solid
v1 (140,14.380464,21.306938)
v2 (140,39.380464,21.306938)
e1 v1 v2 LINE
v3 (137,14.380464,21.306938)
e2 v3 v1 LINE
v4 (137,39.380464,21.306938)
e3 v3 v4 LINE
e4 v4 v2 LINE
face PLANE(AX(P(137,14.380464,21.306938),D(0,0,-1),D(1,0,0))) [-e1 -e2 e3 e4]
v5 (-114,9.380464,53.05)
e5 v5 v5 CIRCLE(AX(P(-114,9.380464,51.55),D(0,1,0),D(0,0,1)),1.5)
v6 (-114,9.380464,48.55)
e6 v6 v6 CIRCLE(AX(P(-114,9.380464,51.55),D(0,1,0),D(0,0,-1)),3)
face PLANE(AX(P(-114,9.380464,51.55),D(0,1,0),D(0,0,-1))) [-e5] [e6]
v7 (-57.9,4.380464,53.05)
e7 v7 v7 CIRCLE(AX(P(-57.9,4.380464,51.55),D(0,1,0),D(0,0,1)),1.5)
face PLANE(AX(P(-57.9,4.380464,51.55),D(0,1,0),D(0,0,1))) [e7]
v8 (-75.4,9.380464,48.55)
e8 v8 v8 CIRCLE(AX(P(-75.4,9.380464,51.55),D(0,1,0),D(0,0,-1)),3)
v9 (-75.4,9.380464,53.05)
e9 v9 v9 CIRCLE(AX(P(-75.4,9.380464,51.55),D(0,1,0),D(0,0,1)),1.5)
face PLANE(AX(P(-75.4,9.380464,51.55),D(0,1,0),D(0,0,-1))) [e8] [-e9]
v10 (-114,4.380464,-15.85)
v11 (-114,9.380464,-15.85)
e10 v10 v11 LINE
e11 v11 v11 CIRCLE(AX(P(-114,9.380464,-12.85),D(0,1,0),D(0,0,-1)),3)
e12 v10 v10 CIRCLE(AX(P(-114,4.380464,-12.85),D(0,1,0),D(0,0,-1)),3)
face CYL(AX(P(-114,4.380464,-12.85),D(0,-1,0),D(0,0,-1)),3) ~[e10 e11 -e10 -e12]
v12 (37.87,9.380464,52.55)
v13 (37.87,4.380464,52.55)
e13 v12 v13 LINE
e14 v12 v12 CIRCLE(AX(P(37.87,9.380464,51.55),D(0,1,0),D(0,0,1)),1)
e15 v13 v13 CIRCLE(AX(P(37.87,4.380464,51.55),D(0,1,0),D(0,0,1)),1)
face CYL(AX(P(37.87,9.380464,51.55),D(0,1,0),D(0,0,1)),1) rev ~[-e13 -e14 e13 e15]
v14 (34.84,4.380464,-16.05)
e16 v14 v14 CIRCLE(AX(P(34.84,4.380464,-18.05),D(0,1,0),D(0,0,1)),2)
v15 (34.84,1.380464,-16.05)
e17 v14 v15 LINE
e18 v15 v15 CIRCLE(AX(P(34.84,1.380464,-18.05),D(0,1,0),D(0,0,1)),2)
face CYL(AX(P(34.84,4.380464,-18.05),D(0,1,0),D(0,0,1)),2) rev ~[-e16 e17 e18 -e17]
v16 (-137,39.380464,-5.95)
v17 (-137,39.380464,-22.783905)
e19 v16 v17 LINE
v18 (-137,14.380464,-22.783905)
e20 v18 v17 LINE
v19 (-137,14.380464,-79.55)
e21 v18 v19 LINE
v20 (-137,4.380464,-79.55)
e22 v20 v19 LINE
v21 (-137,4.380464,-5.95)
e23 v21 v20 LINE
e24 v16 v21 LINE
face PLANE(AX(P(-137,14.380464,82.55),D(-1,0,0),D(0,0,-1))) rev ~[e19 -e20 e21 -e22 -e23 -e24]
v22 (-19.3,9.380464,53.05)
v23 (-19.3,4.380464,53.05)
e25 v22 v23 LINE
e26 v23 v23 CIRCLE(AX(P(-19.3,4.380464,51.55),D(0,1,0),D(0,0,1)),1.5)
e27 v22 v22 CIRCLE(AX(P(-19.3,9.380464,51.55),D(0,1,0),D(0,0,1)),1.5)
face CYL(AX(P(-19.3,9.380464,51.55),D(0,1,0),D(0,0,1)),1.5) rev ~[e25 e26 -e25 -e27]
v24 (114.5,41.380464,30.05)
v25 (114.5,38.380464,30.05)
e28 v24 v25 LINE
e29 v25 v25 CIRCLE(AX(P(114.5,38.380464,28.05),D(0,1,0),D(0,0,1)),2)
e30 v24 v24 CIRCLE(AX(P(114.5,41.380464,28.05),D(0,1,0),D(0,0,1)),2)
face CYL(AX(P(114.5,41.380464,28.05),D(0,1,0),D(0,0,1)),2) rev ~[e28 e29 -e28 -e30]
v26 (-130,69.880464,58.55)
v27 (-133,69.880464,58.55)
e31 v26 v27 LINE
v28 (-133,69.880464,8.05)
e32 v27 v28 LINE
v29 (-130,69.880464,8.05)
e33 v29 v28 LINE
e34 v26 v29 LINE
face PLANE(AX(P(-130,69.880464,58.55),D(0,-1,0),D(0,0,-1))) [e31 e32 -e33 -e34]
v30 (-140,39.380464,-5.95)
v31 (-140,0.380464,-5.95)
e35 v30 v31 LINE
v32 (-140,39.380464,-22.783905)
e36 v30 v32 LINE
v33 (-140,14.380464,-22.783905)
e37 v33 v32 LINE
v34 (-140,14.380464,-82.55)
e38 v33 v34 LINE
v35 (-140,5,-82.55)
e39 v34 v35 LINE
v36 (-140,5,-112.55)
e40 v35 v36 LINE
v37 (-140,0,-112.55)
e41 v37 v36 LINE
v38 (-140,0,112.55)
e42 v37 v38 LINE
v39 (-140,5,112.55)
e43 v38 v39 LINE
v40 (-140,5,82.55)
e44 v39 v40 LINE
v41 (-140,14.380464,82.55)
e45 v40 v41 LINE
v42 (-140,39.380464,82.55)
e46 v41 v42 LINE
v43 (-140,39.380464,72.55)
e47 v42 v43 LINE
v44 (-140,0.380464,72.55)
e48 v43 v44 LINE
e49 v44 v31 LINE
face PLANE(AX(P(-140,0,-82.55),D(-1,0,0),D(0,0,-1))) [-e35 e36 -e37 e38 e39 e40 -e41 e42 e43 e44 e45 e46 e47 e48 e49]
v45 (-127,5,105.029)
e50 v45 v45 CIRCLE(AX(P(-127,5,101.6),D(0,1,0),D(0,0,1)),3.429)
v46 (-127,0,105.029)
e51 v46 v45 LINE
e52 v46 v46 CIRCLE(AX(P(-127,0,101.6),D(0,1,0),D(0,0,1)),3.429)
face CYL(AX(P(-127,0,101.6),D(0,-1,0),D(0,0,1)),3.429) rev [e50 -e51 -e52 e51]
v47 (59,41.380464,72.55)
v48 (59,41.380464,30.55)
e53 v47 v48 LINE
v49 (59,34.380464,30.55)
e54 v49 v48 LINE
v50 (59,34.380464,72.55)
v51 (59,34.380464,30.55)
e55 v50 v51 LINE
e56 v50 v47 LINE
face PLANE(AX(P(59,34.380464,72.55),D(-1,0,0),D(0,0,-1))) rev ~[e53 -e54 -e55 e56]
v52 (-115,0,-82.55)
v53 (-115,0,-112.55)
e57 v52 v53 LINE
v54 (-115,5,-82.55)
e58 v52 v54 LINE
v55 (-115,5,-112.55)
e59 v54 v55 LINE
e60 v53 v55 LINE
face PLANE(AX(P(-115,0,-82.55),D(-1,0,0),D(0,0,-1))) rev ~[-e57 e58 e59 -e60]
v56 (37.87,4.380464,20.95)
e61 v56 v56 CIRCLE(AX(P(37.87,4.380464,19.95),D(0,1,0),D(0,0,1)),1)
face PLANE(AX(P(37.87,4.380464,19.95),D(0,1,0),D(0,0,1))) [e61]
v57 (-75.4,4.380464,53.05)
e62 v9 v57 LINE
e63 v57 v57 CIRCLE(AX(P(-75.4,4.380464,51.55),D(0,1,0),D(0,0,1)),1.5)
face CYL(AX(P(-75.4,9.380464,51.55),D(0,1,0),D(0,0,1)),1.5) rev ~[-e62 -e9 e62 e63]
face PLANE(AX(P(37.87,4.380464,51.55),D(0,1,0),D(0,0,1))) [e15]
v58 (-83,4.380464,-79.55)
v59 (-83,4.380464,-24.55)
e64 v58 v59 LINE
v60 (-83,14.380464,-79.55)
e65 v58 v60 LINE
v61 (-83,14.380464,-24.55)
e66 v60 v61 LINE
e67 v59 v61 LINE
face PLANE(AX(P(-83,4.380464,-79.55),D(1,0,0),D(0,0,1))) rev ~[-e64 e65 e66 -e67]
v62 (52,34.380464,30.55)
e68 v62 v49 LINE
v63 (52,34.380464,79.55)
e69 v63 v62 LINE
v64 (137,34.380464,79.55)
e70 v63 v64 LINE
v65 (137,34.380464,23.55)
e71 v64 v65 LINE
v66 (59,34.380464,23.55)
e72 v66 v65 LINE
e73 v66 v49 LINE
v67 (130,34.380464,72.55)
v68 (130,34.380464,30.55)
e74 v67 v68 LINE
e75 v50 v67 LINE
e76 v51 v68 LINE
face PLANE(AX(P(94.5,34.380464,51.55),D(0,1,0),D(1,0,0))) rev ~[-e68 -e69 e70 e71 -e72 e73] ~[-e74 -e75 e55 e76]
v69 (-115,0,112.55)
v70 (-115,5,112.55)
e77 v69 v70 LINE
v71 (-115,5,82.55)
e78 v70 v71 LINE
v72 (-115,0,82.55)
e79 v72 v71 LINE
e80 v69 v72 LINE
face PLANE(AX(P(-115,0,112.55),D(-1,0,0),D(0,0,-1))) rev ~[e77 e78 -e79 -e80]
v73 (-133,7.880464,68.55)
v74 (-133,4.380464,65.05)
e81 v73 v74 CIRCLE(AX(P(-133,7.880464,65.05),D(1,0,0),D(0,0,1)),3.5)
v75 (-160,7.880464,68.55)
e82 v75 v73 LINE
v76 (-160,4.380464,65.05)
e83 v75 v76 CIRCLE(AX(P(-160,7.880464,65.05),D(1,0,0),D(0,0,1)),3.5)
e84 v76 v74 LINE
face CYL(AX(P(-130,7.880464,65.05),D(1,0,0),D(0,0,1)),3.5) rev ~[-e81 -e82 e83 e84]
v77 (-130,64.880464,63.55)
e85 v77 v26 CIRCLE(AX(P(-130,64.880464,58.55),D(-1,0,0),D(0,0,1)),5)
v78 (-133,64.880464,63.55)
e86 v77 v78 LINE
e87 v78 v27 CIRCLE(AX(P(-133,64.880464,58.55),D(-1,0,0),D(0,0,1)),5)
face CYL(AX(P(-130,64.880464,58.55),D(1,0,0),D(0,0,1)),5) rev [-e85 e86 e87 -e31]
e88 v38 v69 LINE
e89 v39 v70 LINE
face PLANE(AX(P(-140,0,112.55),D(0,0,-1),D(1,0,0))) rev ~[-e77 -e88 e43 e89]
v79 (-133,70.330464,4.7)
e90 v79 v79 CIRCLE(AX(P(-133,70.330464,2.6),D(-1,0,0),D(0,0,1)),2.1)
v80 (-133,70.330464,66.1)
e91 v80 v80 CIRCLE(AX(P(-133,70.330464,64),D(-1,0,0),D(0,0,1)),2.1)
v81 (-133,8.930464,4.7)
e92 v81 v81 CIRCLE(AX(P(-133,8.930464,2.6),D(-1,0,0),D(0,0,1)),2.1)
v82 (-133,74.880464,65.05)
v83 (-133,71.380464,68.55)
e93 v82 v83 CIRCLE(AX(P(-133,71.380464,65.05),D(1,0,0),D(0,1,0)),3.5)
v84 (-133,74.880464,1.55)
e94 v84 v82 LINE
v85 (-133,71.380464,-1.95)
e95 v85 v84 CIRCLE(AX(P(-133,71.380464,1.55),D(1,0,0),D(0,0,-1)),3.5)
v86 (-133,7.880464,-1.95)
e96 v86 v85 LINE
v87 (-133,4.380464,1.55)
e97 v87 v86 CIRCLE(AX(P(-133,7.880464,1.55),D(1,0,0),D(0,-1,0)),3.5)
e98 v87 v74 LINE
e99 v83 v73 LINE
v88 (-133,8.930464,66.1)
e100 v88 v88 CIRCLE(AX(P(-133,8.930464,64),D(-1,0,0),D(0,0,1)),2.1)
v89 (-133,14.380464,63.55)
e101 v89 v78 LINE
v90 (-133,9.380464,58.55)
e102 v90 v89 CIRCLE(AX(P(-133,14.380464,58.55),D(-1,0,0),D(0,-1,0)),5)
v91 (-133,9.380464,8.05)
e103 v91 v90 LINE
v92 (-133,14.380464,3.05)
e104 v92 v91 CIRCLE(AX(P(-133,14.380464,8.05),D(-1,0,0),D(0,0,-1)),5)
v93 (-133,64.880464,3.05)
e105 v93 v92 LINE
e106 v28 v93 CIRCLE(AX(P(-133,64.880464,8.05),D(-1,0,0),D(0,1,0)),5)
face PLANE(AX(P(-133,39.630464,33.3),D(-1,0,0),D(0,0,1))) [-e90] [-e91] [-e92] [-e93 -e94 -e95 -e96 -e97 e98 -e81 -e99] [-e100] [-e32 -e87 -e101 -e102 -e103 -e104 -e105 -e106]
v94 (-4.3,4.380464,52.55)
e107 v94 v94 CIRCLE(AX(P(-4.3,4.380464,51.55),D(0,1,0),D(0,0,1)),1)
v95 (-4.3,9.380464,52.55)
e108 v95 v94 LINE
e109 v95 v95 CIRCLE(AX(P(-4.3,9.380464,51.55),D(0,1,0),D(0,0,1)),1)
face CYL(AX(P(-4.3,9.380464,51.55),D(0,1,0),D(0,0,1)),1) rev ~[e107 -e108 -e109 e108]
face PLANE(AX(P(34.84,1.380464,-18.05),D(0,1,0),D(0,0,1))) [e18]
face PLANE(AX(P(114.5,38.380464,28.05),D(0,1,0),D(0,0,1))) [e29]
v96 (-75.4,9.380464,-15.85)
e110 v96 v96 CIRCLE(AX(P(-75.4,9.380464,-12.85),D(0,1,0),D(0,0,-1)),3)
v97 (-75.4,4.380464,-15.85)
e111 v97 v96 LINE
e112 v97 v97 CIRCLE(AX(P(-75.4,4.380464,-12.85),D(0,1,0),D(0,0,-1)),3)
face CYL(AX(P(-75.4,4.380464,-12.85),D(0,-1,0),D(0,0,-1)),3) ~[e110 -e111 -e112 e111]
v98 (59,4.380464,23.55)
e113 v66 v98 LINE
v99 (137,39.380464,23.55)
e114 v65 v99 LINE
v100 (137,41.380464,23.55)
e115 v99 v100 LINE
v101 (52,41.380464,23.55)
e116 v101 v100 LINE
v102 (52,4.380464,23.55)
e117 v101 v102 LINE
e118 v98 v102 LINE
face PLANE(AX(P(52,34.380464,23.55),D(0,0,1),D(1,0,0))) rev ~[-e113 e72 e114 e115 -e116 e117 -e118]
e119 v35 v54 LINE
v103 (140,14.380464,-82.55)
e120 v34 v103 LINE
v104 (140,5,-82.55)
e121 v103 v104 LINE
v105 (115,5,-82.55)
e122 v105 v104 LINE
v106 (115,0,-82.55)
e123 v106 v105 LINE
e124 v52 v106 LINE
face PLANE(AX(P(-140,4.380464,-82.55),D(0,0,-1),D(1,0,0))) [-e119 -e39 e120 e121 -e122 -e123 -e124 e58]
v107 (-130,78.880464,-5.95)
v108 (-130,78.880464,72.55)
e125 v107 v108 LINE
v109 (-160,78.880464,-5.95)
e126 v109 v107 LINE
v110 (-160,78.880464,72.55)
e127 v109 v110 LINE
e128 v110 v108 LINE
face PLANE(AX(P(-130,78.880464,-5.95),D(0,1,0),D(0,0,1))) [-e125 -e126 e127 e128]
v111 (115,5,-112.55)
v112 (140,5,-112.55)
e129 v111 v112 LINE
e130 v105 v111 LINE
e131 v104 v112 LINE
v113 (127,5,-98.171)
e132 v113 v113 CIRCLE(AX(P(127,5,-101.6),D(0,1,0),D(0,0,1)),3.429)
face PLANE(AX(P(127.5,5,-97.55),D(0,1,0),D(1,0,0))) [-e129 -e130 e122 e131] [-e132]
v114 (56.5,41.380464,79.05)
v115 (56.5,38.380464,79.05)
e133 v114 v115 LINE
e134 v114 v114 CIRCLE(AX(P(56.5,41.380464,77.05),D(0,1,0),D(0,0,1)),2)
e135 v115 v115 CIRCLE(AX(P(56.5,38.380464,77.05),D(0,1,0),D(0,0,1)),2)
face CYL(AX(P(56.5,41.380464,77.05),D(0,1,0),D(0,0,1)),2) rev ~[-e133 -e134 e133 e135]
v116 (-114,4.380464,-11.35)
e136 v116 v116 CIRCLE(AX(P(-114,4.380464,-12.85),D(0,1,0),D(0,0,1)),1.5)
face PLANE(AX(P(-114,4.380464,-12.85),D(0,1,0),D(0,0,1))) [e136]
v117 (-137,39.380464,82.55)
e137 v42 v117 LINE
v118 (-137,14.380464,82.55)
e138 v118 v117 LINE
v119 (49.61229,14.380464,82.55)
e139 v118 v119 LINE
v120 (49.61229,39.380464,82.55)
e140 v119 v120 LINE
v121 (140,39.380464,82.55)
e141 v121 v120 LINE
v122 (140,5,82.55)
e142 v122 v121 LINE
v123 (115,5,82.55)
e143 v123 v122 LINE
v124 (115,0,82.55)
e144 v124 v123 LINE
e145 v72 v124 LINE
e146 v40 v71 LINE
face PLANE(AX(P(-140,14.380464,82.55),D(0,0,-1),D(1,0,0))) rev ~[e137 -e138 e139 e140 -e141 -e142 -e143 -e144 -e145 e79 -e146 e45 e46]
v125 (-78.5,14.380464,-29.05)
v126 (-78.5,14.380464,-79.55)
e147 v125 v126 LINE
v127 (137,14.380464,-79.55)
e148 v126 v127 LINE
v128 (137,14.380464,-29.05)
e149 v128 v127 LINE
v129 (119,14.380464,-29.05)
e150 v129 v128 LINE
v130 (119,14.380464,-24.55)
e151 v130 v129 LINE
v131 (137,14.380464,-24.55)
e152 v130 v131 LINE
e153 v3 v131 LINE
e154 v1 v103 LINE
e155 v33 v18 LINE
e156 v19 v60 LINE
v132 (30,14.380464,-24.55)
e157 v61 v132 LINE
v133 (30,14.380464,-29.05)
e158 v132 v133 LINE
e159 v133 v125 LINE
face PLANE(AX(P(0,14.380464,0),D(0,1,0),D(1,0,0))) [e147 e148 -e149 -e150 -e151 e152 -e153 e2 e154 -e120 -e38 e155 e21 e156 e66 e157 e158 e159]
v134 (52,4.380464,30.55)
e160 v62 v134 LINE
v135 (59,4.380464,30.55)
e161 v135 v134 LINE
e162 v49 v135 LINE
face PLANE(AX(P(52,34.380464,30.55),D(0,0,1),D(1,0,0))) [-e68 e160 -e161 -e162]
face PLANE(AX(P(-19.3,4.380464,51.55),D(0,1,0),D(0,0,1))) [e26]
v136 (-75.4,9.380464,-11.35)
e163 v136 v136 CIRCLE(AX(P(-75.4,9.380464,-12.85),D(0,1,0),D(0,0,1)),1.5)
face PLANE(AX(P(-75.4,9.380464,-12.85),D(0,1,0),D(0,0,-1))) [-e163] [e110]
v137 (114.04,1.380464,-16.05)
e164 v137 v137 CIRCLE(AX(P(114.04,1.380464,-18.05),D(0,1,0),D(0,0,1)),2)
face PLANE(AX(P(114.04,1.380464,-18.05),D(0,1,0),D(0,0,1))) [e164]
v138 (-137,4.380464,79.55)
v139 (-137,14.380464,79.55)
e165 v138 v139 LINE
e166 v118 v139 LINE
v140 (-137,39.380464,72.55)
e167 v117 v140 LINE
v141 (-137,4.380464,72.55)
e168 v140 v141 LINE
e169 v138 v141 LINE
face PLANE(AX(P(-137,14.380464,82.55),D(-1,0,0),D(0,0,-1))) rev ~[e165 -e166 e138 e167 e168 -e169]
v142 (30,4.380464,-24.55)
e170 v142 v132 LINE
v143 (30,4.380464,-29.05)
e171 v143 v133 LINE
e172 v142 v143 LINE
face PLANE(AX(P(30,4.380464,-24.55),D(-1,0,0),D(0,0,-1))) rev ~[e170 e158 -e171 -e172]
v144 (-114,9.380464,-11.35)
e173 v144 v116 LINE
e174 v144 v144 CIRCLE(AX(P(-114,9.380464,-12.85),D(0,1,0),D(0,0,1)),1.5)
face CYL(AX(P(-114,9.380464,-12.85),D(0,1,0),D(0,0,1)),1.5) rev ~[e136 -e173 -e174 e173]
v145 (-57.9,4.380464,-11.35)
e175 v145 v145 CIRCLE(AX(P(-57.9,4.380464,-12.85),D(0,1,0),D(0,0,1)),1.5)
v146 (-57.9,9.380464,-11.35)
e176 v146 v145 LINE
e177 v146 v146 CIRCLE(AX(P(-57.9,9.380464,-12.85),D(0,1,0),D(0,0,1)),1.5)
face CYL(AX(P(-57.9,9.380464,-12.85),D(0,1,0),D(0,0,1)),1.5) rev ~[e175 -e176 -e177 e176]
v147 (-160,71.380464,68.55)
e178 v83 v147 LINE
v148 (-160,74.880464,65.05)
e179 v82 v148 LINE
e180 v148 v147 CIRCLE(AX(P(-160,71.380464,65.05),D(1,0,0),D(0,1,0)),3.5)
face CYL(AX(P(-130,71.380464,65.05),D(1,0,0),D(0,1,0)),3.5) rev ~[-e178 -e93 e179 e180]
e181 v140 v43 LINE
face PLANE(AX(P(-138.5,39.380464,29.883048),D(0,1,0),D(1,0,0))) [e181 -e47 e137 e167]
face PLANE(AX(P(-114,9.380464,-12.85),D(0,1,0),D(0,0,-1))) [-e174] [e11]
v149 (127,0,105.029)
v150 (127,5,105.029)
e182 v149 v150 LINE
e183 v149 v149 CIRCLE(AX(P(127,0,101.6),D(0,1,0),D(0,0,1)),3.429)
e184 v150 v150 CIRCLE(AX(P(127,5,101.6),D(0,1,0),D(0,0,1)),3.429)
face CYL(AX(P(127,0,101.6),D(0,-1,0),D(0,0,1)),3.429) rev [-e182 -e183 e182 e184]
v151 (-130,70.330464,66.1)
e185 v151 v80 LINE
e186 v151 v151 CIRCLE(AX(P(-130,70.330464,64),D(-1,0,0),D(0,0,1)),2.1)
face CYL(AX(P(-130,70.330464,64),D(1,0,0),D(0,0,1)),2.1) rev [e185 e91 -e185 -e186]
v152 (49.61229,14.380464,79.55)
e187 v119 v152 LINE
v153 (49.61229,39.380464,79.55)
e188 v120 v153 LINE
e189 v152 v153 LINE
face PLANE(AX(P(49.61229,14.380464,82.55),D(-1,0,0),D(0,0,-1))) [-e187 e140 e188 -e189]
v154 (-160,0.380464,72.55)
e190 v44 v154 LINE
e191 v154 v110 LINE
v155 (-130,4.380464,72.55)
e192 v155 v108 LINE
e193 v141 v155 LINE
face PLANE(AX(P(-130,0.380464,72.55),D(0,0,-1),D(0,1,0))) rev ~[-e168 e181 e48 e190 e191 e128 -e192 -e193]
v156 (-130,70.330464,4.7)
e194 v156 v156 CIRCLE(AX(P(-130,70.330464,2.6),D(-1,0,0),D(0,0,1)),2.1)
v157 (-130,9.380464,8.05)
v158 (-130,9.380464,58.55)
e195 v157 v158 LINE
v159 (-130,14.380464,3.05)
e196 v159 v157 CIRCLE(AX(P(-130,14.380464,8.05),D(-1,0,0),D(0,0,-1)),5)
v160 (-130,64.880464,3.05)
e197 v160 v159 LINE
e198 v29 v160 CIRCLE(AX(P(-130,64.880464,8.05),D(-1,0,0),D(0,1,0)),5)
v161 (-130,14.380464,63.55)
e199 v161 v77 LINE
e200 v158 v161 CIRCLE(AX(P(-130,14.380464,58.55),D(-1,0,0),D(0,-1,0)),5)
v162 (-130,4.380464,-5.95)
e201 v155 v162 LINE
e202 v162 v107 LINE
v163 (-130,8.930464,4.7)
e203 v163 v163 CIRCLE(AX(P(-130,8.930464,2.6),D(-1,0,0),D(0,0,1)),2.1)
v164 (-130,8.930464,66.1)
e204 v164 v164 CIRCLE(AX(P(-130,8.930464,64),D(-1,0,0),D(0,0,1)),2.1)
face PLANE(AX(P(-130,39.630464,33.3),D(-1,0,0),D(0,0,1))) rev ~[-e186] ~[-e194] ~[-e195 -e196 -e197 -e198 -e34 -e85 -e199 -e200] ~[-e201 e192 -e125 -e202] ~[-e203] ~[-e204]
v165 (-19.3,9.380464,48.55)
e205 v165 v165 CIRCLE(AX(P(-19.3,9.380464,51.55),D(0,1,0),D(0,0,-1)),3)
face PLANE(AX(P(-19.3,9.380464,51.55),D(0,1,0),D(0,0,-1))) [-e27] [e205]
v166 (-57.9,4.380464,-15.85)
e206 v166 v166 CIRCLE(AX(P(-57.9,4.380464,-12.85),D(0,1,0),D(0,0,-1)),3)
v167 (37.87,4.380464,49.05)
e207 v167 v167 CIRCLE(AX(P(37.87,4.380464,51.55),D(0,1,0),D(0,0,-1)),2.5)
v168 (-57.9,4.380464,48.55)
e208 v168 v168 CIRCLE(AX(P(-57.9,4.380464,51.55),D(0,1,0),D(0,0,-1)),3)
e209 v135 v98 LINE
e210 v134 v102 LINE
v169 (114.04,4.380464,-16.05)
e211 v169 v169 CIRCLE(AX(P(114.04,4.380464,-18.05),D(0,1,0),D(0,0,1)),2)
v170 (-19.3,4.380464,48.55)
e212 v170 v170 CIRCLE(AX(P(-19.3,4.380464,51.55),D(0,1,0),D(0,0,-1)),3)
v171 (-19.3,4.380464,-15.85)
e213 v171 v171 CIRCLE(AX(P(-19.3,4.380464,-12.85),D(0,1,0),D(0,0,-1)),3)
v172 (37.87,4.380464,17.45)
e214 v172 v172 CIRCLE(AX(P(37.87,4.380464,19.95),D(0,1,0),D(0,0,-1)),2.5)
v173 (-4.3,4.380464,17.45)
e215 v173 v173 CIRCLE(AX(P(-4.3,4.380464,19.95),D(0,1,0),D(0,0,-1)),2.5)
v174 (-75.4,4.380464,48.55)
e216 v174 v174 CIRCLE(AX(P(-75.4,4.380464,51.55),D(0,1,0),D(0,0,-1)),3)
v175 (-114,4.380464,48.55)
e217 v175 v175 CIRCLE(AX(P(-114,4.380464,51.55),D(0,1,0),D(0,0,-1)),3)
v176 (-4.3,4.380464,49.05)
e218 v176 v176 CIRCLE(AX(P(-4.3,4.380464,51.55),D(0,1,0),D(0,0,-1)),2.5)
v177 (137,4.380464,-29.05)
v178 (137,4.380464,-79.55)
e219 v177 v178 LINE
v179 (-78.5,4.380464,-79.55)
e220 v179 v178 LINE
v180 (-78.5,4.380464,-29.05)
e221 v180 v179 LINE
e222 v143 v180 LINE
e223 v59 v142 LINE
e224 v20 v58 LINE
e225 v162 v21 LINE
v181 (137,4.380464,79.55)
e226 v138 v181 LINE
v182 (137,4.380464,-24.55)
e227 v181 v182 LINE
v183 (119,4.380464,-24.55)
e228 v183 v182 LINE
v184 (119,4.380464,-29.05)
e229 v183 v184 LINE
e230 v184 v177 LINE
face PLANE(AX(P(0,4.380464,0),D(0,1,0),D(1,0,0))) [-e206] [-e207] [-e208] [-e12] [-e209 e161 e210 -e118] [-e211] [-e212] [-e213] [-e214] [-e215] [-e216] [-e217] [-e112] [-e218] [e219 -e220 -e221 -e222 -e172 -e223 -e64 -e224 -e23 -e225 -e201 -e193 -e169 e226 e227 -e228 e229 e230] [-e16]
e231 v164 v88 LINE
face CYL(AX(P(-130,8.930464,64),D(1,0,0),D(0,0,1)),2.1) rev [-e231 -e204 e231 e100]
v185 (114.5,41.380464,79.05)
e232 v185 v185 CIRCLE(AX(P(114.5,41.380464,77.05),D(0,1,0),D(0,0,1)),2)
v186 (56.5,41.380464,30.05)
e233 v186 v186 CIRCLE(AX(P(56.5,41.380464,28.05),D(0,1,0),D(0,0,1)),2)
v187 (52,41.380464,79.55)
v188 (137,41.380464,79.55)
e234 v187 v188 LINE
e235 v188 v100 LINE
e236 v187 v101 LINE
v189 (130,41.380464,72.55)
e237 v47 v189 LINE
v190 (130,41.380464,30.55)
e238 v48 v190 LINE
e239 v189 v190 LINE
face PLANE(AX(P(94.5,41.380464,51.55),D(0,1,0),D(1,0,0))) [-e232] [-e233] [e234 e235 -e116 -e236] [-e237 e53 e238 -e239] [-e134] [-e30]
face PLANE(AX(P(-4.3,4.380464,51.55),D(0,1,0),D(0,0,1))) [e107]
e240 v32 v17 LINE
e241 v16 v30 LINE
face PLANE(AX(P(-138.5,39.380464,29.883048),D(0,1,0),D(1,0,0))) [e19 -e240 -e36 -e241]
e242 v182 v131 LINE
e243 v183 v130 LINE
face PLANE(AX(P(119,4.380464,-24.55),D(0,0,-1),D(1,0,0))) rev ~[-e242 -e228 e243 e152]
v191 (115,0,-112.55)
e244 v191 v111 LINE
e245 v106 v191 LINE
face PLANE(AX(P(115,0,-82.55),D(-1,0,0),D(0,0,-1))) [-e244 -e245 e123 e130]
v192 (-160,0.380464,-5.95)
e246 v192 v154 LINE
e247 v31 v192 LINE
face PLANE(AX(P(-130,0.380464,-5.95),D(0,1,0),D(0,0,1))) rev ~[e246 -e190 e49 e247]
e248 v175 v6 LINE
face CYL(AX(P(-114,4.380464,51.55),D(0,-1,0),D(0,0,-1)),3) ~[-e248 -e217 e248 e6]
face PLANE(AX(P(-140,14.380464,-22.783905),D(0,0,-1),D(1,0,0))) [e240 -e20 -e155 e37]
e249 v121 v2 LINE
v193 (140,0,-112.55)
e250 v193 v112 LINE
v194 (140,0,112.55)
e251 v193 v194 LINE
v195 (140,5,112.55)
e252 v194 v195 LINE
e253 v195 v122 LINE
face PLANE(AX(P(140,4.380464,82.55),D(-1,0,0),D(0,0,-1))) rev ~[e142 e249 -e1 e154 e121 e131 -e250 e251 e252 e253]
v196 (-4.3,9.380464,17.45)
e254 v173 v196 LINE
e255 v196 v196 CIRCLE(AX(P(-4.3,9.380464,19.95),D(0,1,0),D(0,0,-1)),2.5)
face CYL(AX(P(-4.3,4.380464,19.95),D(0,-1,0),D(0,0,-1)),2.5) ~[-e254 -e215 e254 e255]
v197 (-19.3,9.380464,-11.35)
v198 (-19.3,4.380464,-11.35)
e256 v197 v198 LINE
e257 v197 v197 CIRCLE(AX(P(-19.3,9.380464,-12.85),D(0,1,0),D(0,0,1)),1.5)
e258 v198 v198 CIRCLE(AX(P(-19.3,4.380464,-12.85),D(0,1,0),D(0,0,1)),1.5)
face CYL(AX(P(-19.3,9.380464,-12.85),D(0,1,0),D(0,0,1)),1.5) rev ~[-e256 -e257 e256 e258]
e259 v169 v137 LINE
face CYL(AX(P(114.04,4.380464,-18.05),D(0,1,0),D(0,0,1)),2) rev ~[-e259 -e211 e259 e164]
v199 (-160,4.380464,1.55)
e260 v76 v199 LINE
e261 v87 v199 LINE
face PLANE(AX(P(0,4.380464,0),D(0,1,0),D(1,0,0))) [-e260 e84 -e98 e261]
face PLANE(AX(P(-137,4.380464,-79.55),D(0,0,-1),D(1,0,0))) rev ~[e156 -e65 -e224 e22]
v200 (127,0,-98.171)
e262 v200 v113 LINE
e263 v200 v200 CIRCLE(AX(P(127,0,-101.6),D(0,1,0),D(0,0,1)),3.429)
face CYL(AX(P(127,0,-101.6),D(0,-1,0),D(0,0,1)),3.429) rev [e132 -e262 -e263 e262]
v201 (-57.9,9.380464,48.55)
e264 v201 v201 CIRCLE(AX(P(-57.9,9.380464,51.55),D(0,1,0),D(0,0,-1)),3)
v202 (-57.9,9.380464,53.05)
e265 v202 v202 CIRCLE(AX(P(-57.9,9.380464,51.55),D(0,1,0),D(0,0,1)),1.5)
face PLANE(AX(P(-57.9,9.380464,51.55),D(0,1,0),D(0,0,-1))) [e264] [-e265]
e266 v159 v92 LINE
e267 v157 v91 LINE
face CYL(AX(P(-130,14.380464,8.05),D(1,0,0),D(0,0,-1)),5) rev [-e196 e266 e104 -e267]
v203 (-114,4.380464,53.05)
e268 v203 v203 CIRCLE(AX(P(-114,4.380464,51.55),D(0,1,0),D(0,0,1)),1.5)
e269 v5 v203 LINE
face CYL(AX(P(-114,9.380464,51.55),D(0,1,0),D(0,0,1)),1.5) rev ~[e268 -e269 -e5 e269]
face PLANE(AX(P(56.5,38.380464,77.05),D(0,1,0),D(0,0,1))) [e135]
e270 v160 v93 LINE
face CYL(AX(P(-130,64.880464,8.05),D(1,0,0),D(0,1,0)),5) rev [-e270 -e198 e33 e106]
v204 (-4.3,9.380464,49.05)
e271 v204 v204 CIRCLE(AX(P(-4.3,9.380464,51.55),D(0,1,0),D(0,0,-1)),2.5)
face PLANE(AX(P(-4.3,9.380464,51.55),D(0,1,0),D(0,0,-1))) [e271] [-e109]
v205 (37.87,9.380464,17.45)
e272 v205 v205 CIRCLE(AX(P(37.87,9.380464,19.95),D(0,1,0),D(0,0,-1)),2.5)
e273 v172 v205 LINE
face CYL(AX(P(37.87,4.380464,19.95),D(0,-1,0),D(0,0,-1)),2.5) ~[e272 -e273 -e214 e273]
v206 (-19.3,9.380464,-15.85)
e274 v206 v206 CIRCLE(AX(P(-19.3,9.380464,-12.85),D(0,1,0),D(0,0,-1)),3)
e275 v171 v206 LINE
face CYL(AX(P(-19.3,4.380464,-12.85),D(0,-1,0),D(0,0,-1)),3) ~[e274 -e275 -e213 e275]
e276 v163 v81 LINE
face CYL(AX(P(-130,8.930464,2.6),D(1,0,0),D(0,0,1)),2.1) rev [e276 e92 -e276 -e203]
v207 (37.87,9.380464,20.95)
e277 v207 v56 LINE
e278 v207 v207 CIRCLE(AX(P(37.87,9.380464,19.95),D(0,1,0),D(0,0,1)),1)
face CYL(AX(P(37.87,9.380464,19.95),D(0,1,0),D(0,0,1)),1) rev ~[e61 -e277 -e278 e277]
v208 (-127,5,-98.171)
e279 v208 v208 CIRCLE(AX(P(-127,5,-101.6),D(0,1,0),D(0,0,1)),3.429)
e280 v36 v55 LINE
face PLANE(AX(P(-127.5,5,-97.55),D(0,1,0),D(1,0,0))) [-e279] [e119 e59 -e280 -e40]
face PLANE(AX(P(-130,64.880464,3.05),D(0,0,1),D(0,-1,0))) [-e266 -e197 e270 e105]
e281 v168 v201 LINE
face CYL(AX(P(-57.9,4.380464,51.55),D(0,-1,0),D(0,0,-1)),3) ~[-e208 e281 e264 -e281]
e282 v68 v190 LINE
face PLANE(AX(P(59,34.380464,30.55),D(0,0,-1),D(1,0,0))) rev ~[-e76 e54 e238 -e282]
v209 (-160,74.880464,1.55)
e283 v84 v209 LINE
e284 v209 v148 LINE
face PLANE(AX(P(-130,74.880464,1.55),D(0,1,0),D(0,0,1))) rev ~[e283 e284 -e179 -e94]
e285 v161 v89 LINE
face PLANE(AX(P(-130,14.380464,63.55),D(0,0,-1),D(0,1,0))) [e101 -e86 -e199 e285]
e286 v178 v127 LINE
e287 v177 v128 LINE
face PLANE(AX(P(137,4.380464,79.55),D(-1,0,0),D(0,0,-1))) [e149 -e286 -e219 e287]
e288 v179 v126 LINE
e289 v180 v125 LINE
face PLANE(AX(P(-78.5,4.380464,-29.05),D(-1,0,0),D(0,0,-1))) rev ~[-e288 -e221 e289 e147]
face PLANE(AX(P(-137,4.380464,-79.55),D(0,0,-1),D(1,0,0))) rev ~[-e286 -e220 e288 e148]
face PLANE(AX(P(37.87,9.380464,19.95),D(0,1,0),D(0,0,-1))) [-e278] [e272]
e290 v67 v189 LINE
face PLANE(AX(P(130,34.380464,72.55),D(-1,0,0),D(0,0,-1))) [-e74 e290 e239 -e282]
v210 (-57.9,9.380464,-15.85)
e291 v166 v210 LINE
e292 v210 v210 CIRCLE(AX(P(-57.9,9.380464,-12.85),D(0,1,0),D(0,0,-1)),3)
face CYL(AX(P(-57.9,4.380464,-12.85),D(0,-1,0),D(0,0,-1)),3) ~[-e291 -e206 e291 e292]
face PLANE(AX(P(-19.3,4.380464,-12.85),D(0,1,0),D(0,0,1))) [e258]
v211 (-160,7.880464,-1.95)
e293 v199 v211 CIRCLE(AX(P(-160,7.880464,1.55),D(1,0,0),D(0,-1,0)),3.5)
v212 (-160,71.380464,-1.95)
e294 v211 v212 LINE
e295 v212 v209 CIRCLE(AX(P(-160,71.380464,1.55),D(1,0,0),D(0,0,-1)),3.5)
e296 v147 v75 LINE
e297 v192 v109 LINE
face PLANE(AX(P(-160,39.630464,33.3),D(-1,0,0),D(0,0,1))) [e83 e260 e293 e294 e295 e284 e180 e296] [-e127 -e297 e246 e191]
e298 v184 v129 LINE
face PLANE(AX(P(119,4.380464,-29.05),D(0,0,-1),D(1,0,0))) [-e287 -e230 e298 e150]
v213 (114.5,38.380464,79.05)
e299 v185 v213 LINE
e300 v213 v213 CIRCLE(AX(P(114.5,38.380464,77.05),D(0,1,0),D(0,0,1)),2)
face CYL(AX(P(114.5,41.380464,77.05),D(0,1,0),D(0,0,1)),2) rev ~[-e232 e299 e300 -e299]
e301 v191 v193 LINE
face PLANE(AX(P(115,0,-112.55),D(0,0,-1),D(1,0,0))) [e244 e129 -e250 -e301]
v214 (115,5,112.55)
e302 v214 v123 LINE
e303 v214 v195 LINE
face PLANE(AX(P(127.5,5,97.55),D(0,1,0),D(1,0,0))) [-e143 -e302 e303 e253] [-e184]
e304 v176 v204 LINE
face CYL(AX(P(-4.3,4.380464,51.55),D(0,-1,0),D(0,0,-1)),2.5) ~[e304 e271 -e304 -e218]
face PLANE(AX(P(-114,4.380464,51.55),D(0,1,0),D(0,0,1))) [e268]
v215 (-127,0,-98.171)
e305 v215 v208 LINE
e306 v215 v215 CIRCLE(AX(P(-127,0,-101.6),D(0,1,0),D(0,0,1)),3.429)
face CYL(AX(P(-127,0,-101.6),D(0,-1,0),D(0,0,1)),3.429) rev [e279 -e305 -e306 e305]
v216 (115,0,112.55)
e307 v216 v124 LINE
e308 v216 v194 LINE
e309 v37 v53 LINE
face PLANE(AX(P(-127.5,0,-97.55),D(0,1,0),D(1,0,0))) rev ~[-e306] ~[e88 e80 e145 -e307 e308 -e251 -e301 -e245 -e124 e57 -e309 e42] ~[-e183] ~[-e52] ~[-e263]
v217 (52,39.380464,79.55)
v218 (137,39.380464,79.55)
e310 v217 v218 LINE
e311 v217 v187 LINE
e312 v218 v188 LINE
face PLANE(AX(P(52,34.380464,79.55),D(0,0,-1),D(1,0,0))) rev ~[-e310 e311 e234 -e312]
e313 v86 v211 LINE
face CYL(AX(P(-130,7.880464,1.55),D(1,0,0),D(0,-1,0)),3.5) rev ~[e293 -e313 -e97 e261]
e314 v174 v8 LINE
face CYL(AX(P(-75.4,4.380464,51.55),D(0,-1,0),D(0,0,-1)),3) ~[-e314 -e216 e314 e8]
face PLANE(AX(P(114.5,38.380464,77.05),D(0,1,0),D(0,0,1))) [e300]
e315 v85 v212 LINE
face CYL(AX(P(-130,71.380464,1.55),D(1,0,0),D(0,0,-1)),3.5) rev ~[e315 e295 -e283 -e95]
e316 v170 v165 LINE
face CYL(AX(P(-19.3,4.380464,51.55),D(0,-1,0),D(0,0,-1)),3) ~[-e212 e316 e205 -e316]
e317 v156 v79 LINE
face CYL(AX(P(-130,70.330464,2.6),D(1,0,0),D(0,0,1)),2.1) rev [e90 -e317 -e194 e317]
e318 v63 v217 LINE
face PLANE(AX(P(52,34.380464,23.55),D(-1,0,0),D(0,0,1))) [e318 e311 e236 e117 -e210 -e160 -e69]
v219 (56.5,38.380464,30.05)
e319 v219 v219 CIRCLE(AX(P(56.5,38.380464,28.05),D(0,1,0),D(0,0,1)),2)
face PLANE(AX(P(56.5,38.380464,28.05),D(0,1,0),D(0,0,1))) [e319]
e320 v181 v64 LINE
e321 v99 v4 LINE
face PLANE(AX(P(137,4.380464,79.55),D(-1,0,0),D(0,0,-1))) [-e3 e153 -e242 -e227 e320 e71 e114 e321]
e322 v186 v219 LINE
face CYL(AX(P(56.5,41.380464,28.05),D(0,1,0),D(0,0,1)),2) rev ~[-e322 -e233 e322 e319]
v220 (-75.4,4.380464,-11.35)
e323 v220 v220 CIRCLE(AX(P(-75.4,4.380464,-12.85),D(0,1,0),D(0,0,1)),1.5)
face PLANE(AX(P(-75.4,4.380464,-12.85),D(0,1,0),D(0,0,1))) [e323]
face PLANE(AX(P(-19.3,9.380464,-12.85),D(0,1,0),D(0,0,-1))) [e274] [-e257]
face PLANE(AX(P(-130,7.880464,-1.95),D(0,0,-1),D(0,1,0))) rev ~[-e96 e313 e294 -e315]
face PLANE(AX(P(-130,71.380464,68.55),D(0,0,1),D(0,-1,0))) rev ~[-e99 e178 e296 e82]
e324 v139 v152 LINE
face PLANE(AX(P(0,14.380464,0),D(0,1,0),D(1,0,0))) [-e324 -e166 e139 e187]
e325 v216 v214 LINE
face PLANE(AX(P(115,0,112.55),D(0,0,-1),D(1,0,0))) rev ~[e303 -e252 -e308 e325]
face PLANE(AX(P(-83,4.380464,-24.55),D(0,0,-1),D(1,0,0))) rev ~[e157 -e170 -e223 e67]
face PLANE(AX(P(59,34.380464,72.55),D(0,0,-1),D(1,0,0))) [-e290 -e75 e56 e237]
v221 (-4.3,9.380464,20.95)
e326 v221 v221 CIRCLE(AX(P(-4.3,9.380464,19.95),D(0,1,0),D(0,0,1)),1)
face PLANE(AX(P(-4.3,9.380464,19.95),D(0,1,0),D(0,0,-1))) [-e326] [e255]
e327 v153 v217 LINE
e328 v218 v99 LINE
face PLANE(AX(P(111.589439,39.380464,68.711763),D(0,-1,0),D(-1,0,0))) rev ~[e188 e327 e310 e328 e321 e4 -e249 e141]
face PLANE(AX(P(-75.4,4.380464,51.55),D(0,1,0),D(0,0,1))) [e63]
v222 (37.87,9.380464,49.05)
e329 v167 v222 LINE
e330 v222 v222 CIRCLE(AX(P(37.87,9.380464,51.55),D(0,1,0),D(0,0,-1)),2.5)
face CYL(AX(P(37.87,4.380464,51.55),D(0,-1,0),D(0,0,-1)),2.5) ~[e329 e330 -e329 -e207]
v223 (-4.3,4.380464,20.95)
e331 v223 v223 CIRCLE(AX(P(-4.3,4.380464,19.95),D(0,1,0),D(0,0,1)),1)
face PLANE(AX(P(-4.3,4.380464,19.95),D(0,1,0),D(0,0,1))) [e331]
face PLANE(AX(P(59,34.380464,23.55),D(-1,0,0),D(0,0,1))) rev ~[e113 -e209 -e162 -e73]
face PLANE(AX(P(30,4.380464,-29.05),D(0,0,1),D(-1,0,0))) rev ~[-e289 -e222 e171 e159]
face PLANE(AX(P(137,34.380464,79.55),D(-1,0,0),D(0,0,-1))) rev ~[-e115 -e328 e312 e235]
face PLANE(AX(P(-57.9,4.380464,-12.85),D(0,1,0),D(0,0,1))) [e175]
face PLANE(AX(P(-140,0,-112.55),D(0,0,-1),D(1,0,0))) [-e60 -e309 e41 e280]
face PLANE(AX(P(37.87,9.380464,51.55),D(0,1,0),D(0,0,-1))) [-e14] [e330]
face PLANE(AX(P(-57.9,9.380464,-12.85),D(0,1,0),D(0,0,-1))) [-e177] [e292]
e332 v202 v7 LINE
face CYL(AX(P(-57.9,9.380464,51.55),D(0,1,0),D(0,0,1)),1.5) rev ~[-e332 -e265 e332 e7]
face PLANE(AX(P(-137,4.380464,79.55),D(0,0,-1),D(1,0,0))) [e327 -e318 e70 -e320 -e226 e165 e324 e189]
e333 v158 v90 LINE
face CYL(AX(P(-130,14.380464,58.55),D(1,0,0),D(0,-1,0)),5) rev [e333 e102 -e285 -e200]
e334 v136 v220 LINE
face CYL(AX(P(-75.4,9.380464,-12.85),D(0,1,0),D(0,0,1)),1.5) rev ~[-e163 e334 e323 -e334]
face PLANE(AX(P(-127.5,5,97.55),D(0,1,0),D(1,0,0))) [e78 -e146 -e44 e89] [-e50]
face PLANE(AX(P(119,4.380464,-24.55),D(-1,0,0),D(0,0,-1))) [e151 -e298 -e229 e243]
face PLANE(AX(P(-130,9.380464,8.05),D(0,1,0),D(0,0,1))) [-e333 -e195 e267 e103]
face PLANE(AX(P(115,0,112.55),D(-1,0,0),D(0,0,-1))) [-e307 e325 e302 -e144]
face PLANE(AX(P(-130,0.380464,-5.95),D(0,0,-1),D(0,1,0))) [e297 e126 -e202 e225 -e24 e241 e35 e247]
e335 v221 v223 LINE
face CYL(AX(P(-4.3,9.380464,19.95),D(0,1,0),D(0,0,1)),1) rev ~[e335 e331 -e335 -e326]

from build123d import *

# Parameters (mm, degrees)
SKETCH1_W             = 280
SKETCH1_H             = 165.1
FLOOR_2_DEPTH         = 4.38046443
SKETCH2_W             = 280
SKETCH2_H             = 165.1
SKETCH2_W_2           = 274
SKETCH2_H_2           = 159.1
WALL_DEPTH            = 10
RPI_START             = 30
SKETCH4_W             = 85
SKETCH4_H             = 56
SKETCH4_W_2           = 71
SKETCH4_H_2           = 42
RPI_STAND_DEPTH       = 7
SKETCH7_W             = 3
SKETCH7_H             = 105.333904831
TEMP_SUPPORT_DEPTH    = 25
SKETCH3_W             = 25
SKETCH3_H             = 30
SKETCH3_R             = 3.429
BRACKETS_DEPTH        = 5
FAN_HOLDER_DEPTH      = 20
FAN_HOLDER_DEPTH_BACK = 10
SKETCH5_W             = 78.5
SKETCH5_H             = 78.5
FAN_START             = -3
FAN_HOLE_DEPTH        = 3
SKETCH11_W            = 78.5
SKETCH11_H            = 78.5
SKETCH11_R            = 2.1
BOSS_EXTRUDE9_DEPTH   = 3
BOSS_EXTRUDE10_REACH  = 202.618
SKETCH12_W            = 7
SKETCH12_H            = 7
SKETCH13_R            = 3
SKETCH13_R_2          = 1.5
SKETCH13_R_3          = 2.5
SKETCH13_R_4          = 1
BOSS_EXTRUDE12_DEPTH  = 5
CUT_EXTRUDE1_START    = 5
SKETCH13_4_R          = 1.5
SKETCH13_4_R_2        = 1
CUT_EXTRUDE1_DEPTH    = 5
SKETCH13_5_R          = 2
CUT_EXTRUDE2_DEPTH    = 3
SKETCH16_W            = 18
SKETCH16_H            = 4.5
BOSS_EXTRUDE11_DEPTH  = 10
SKETCH17_R            = 2
CUT_EXTRUDE3_DEPTH    = 3


with BuildPart() as part:
    # Sketch1 → Floor 2 (new body)
    with BuildSketch(Plane(origin=(0, 0, 0), x_dir=(1, 0, 0), z_dir=(0, 1, 0))):
        Rectangle(SKETCH1_W, SKETCH1_H)
    extrude(amount=FLOOR_2_DEPTH)

    # Sketch2 → Wall (add)
    with BuildSketch(Plane(origin=(0, 4.38046443, 0), x_dir=(1, 0, 0), z_dir=(0, 1, 0))):
        Rectangle(SKETCH2_W, SKETCH2_H)
        Rectangle(SKETCH2_W_2, SKETCH2_H_2, mode=Mode.SUBTRACT)
    extrude(amount=WALL_DEPTH)

    # Sketch7 → Temp support (add)
    with BuildSketch(Plane(origin=(0, 14.38046443, 0), x_dir=(1, 0, 0), z_dir=(0, 1, 0))):
        with Locations((-138.5, -29.883047585)):
            Rectangle(SKETCH7_W, SKETCH7_H)
        Polygon((140, -82.55), (49.61228981, -82.55), (49.61228981, -79.55), (137, -79.55), (137, -21.306937857), (140, -21.306937857), (140, -79.55), align=None)
    extrude(amount=TEMP_SUPPORT_DEPTH)

    # Sketch3 → Brackets (add)
    # profile 1 of 4: a face of its own
    with BuildSketch(Plane(origin=(0, 0, 0), x_dir=(1, 0, 0), z_dir=(0, 1, 0))):
        with Locations((-127.5, 97.55)):
            Rectangle(SKETCH3_W, SKETCH3_H)
        with Locations(Location((-127, 101.6, 0), (0, 0, 270))):
            Circle(SKETCH3_R, mode=Mode.SUBTRACT)
    # profile 2 of 4: a face of its own
    with BuildSketch(Plane(origin=(0, 0, 0), x_dir=(1, 0, 0), z_dir=(0, 1, 0))):
        with Locations((127.5, 97.55)):
            Rectangle(SKETCH3_W, SKETCH3_H)
        with Locations(Location((127, 101.6, 0), (0, 0, 270))):
            Circle(SKETCH3_R, mode=Mode.SUBTRACT)
    # profile 3 of 4: a face of its own
    with BuildSketch(Plane(origin=(0, 0, 0), x_dir=(1, 0, 0), z_dir=(0, 1, 0))):
        with Locations((-127.5, -97.55)):
            Rectangle(SKETCH3_W, SKETCH3_H)
        with Locations(Location((-127, -101.6, 0), (0, 0, 270))):
            Circle(SKETCH3_R, mode=Mode.SUBTRACT)
    # profile 4 of 4: a face of its own
    with BuildSketch(Plane(origin=(0, 0, 0), x_dir=(1, 0, 0), z_dir=(0, 1, 0))):
        with Locations((127.5, -97.55)):
            Rectangle(SKETCH3_W, SKETCH3_H)
        with Locations(Location((127, -101.6, 0), (0, 0, 270))):
            Circle(SKETCH3_R, mode=Mode.SUBTRACT)
    extrude(amount=BRACKETS_DEPTH)

    # Sketch5 → Fan Holder (add, two sides: drawn at the far end of the back side and taken through both)
    with BuildSketch(Plane.ZY.offset(140).offset(-FAN_HOLDER_DEPTH_BACK)):
        with Locations((33.3, 39.63046443)):
            Rectangle(SKETCH5_W, SKETCH5_H)
        with BuildLine():
            Line((65.05, 4.38046443), (1.55, 4.38046443))
            ThreePointArc((1.55, 4.38046443), (-0.924873734, 5.405590696), (-1.95, 7.88046443))
            Line((-1.95, 7.88046443), (-1.95, 71.38046443))
            ThreePointArc((-1.95, 71.38046443), (-0.924873734, 73.855338165), (1.55, 74.88046443))
            Line((1.55, 74.88046443), (65.05, 74.88046443))
            ThreePointArc((65.05, 74.88046443), (67.524873734, 73.855338165), (68.55, 71.38046443))
            Line((68.55, 71.38046443), (68.55, 7.88046443))
            ThreePointArc((68.55, 7.88046443), (67.524873734, 5.405590696), (65.05, 4.38046443))
        make_face(mode=Mode.SUBTRACT)
    extrude(amount=FAN_HOLDER_DEPTH + FAN_HOLDER_DEPTH_BACK)

    # Sketch8 → Fan hole (cut)
    with BuildSketch(Plane.ZY.offset(140).offset(FAN_START)):
        with BuildLine():
            Line((-1.95, 39.38046443), (-1.95, 7.88046443))
            ThreePointArc((-1.95, 7.88046443), (-0.924873734, 5.405590696), (1.55, 4.38046443))
            Line((1.55, 4.38046443), (65.05, 4.38046443))
            ThreePointArc((65.05, 4.38046443), (67.524873734, 5.405590696), (68.55, 7.88046443))
            Line((68.55, 7.88046443), (68.55, 39.38046443))
            Line((68.55, 39.38046443), (-1.95, 39.38046443))
        make_face()
    extrude(amount=FAN_HOLE_DEPTH, mode=Mode.SUBTRACT)

    # Sketch11 → Boss-Extrude9 (add)
    with BuildSketch(Plane.ZY.offset(130)):
        with Locations((33.3, 39.63046443)):
            Rectangle(SKETCH11_W, SKETCH11_H)
        with Locations((2.6, 70.33046443)):
            Circle(SKETCH11_R, mode=Mode.SUBTRACT)
        with Locations((64, 70.33046443)):
            Circle(SKETCH11_R, mode=Mode.SUBTRACT)
        with Locations((64, 8.93046443)):
            Circle(SKETCH11_R, mode=Mode.SUBTRACT)
        with Locations((2.6, 8.93046443)):
            Circle(SKETCH11_R, mode=Mode.SUBTRACT)
        with BuildLine():
            Line((3.05, 64.88046443), (3.05, 14.38046443))
            ThreePointArc((3.05, 14.38046443), (4.514466094, 10.844930524), (8.05, 9.38046443))
            Line((8.05, 9.38046443), (58.55, 9.38046443))
            ThreePointArc((58.55, 9.38046443), (62.085533906, 10.844930524), (63.55, 14.38046443))
            Line((63.55, 14.38046443), (63.55, 64.88046443))
            ThreePointArc((63.55, 64.88046443), (62.085533906, 68.415998336), (58.55, 69.88046443))
            Line((58.55, 69.88046443), (8.05, 69.88046443))
            ThreePointArc((8.05, 69.88046443), (4.514466094, 68.415998336), (3.05, 64.88046443))
        make_face(mode=Mode.SUBTRACT)
    extrude(amount=BOSS_EXTRUDE9_DEPTH)

    # Sketch12 → Boss-Extrude10 (add, up to next)
    with BuildSketch(Plane.XZ.offset(-34.38046443), mode=Mode.PRIVATE) as boss_extrude10_sk1:
        with Locations((55.5, 27.05)):
            Rectangle(SKETCH12_W, SKETCH12_H)
    boss_extrude10_tool1 = extrude(boss_extrude10_sk1.sketch, amount=BOSS_EXTRUDE10_REACH, mode=Mode.PRIVATE) - part.part


with BuildPart() as body_2:
    # Sketch4 → Rpi stand (new body)
    with BuildSketch(Plane(origin=(0, 4.38046443, 0), x_dir=(1, 0, 0), z_dir=(0, 1, 0)).offset(RPI_START)):
        with Locations((94.5, -51.55)):
            Rectangle(SKETCH4_W, SKETCH4_H)
        with Locations((94.5, -51.55)):
            Rectangle(SKETCH4_W_2, SKETCH4_H_2, mode=Mode.SUBTRACT)
    extrude(amount=RPI_STAND_DEPTH)


with BuildPart() as part_1:
    add(part.part)

    add(body_2.part)  # Boss-Extrude10 merges body 2
    add(boss_extrude10_tool1.solids().sort_by_distance((55.5, 34.380464, 27.05))[0])

    # Sketch13 → Boss-Extrude12 (add)
    # profile 1 of 24: a face of its own
    with BuildSketch(Plane(origin=(0, 4.38046443, 0), x_dir=(1, 0, 0), z_dir=(0, 1, 0))):
        with Locations(Location((-75.4, 12.85, 0), (0, 0, 90))):
            Circle(SKETCH13_R)
        with Locations((-75.4, 12.85)):
            Circle(SKETCH13_R_2, mode=Mode.SUBTRACT)
    # profile 2 of 24: a face of its own
    with BuildSketch(Plane(origin=(0, 4.38046443, 0), x_dir=(1, 0, 0), z_dir=(0, 1, 0))):
        with Locations((-75.4, 12.85)):
            Circle(SKETCH13_R_2)
    # profile 3 of 24: a face of its own
    with BuildSketch(Plane(origin=(0, 4.38046443, 0), x_dir=(1, 0, 0), z_dir=(0, 1, 0))):
        with Locations(Location((-57.9, 12.85, 0), (0, 0, 90))):
            Circle(SKETCH13_R)
        with Locations((-57.9, 12.85)):
            Circle(SKETCH13_R_2, mode=Mode.SUBTRACT)
    # profile 4 of 24: a face of its own
    with BuildSketch(Plane(origin=(0, 4.38046443, 0), x_dir=(1, 0, 0), z_dir=(0, 1, 0))):
        with Locations((-57.9, 12.85)):
            Circle(SKETCH13_R_2)
    # profile 5 of 24: a face of its own
    with BuildSketch(Plane(origin=(0, 4.38046443, 0), x_dir=(1, 0, 0), z_dir=(0, 1, 0))):
        with Locations(Location((-114, 12.85, 0), (0, 0, 90))):
            Circle(SKETCH13_R)
        with Locations((-114, 12.85)):
            Circle(SKETCH13_R_2, mode=Mode.SUBTRACT)
    # profile 6 of 24: a face of its own
    with BuildSketch(Plane(origin=(0, 4.38046443, 0), x_dir=(1, 0, 0), z_dir=(0, 1, 0))):
        with Locations((-114, 12.85)):
            Circle(SKETCH13_R_2)
    # profile 7 of 24: a face of its own
    with BuildSketch(Plane(origin=(0, 4.38046443, 0), x_dir=(1, 0, 0), z_dir=(0, 1, 0))):
        with Locations(Location((-19.3, 12.85, 0), (0, 0, 90))):
            Circle(SKETCH13_R)
        with Locations((-19.3, 12.85)):
            Circle(SKETCH13_R_2, mode=Mode.SUBTRACT)
    # profile 8 of 24: a face of its own
    with BuildSketch(Plane(origin=(0, 4.38046443, 0), x_dir=(1, 0, 0), z_dir=(0, 1, 0))):
        with Locations((-19.3, 12.85)):
            Circle(SKETCH13_R_2)
    # profile 9 of 24: a face of its own
    with BuildSketch(Plane(origin=(0, 4.38046443, 0), x_dir=(1, 0, 0), z_dir=(0, 1, 0))):
        with Locations(Location((-114, -51.55, 0), (0, 0, 90))):
            Circle(SKETCH13_R)
        with Locations((-114, -51.55)):
            Circle(SKETCH13_R_2, mode=Mode.SUBTRACT)
    # profile 10 of 24: a face of its own
    with BuildSketch(Plane(origin=(0, 4.38046443, 0), x_dir=(1, 0, 0), z_dir=(0, 1, 0))):
        with Locations((-114, -51.55)):
            Circle(SKETCH13_R_2)
    # profile 11 of 24: a face of its own
    with BuildSketch(Plane(origin=(0, 4.38046443, 0), x_dir=(1, 0, 0), z_dir=(0, 1, 0))):
        with Locations(Location((-75.4, -51.55, 0), (0, 0, 90))):
            Circle(SKETCH13_R)
        with Locations((-75.4, -51.55)):
            Circle(SKETCH13_R_2, mode=Mode.SUBTRACT)
    # profile 12 of 24: a face of its own
    with BuildSketch(Plane(origin=(0, 4.38046443, 0), x_dir=(1, 0, 0), z_dir=(0, 1, 0))):
        with Locations((-75.4, -51.55)):
            Circle(SKETCH13_R_2)
    # profile 13 of 24: a face of its own
    with BuildSketch(Plane(origin=(0, 4.38046443, 0), x_dir=(1, 0, 0), z_dir=(0, 1, 0))):
        with Locations(Location((-57.9, -51.55, 0), (0, 0, 90))):
            Circle(SKETCH13_R)
        with Locations((-57.9, -51.55)):
            Circle(SKETCH13_R_2, mode=Mode.SUBTRACT)
    # profile 14 of 24: a face of its own
    with BuildSketch(Plane(origin=(0, 4.38046443, 0), x_dir=(1, 0, 0), z_dir=(0, 1, 0))):
        with Locations((-57.9, -51.55)):
            Circle(SKETCH13_R_2)
    # profile 15 of 24: a face of its own
    with BuildSketch(Plane(origin=(0, 4.38046443, 0), x_dir=(1, 0, 0), z_dir=(0, 1, 0))):
        with Locations(Location((-19.3, -51.55, 0), (0, 0, 90))):
            Circle(SKETCH13_R)
        with Locations((-19.3, -51.55)):
            Circle(SKETCH13_R_2, mode=Mode.SUBTRACT)
    # profile 16 of 24: a face of its own
    with BuildSketch(Plane(origin=(0, 4.38046443, 0), x_dir=(1, 0, 0), z_dir=(0, 1, 0))):
        with Locations((-19.3, -51.55)):
            Circle(SKETCH13_R_2)
    # profile 17 of 24: a face of its own
    with BuildSketch(Plane(origin=(0, 4.38046443, 0), x_dir=(1, 0, 0), z_dir=(0, 1, 0))):
        with Locations(Location((-4.3, -51.55, 0), (0, 0, 90))):
            Circle(SKETCH13_R_3)
        with Locations((-4.3, -51.55)):
            Circle(SKETCH13_R_4, mode=Mode.SUBTRACT)
    # profile 18 of 24: a face of its own
    with BuildSketch(Plane(origin=(0, 4.38046443, 0), x_dir=(1, 0, 0), z_dir=(0, 1, 0))):
        with Locations((-4.3, -51.55)):
            Circle(SKETCH13_R_4)
    # profile 19 of 24: a face of its own
    with BuildSketch(Plane(origin=(0, 4.38046443, 0), x_dir=(1, 0, 0), z_dir=(0, 1, 0))):
        with Locations(Location((-4.3, -19.95, 0), (0, 0, 90))):
            Circle(SKETCH13_R_3)
        with Locations((-4.3, -19.95)):
            Circle(SKETCH13_R_4, mode=Mode.SUBTRACT)
    # profile 20 of 24: a face of its own
    with BuildSketch(Plane(origin=(0, 4.38046443, 0), x_dir=(1, 0, 0), z_dir=(0, 1, 0))):
        with Locations((-4.3, -19.95)):
            Circle(SKETCH13_R_4)
    # profile 21 of 24: a face of its own
    with BuildSketch(Plane(origin=(0, 4.38046443, 0), x_dir=(1, 0, 0), z_dir=(0, 1, 0))):
        with Locations(Location((37.87, -19.95, 0), (0, 0, 90))):
            Circle(SKETCH13_R_3)
        with Locations((37.87, -19.95)):
            Circle(SKETCH13_R_4, mode=Mode.SUBTRACT)
    # profile 22 of 24: a face of its own
    with BuildSketch(Plane(origin=(0, 4.38046443, 0), x_dir=(1, 0, 0), z_dir=(0, 1, 0))):
        with Locations((37.87, -19.95)):
            Circle(SKETCH13_R_4)
    # profile 23 of 24: a face of its own
    with BuildSketch(Plane(origin=(0, 4.38046443, 0), x_dir=(1, 0, 0), z_dir=(0, 1, 0))):
        with Locations(Location((37.87, -51.55, 0), (0, 0, 90))):
            Circle(SKETCH13_R_3)
        with Locations((37.87, -51.55)):
            Circle(SKETCH13_R_4, mode=Mode.SUBTRACT)
    # profile 24 of 24: a face of its own
    with BuildSketch(Plane(origin=(0, 4.38046443, 0), x_dir=(1, 0, 0), z_dir=(0, 1, 0))):
        with Locations((37.87, -51.55)):
            Circle(SKETCH13_R_4)
    extrude(amount=BOSS_EXTRUDE12_DEPTH)

    # Sketch13<4> → Cut-Extrude1 (cut)
    with BuildSketch(Plane(origin=(0, 4.38046443, 0), x_dir=(1, 0, 0), z_dir=(0, 1, 0)).offset(CUT_EXTRUDE1_START)):
        with Locations(Location((-114, -51.55, 0), (0, 0, 270))):
            Circle(SKETCH13_4_R)
        with Locations(Location((-114, 12.85, 0), (0, 0, 270))):
            Circle(SKETCH13_4_R)
        with Locations(Location((-75.4, 12.85, 0), (0, 0, 270))):
            Circle(SKETCH13_4_R)
        with Locations(Location((-75.4, -51.55, 0), (0, 0, 270))):
            Circle(SKETCH13_4_R)
        with Locations(Location((-57.9, 12.85, 0), (0, 0, 270))):
            Circle(SKETCH13_4_R)
        with Locations(Location((-57.9, -51.55, 0), (0, 0, 270))):
            Circle(SKETCH13_4_R)
        with Locations(Location((-19.3, -51.55, 0), (0, 0, 270))):
            Circle(SKETCH13_4_R)
        with Locations(Location((-19.3, 12.85, 0), (0, 0, 270))):
            Circle(SKETCH13_4_R)
        with Locations(Location((-4.3, -51.55, 0), (0, 0, 270))):
            Circle(SKETCH13_4_R_2)
        with Locations(Location((-4.3, -19.95, 0), (0, 0, 270))):
            Circle(SKETCH13_4_R_2)
        with Locations(Location((37.87, -19.95, 0), (0, 0, 270))):
            Circle(SKETCH13_4_R_2)
        with Locations(Location((37.87, -51.55, 0), (0, 0, 270))):
            Circle(SKETCH13_4_R_2)
    extrude(amount=-CUT_EXTRUDE1_DEPTH, mode=Mode.SUBTRACT)

    # Sketch13<5> → Cut-Extrude2 (cut)
    with BuildSketch(Plane(origin=(0, 4.38046443, 0), x_dir=(1, 0, 0), z_dir=(0, 1, 0))):
        with Locations(Location((114.04, 18.05, 0), (0, 0, 270))):
            Circle(SKETCH13_5_R)
        with Locations(Location((34.84, 18.05, 0), (0, 0, 270))):
            Circle(SKETCH13_5_R)
    extrude(amount=-CUT_EXTRUDE2_DEPTH, mode=Mode.SUBTRACT)

    # Sketch16 → Boss-Extrude11 (add)
    with BuildSketch(Plane(origin=(0, 4.38046443, 0), x_dir=(1, 0, 0), z_dir=(0, 1, 0))):
        Polygon((-83, 79.55), (-83, 24.55), (30, 24.55), (30, 29.05), (-78.5, 29.05), (-78.5, 79.55), align=None)
        with Locations((128, 26.8)):
            Rectangle(SKETCH16_W, SKETCH16_H)
    extrude(amount=BOSS_EXTRUDE11_DEPTH)

    # Sketch17 → Cut-Extrude3 (cut)
    with BuildSketch(Plane(origin=(0, 41.38046443, 0), x_dir=(1, 0, 0), z_dir=(0, 1, 0))):
        with Locations(Location((56.5, -28.05, 0), (0, 0, 270))):
            Circle(SKETCH17_R)
        with Locations(Location((114.5, -28.05, 0), (0, 0, 270))):
            Circle(SKETCH17_R)
        with Locations(Location((114.5, -77.05, 0), (0, 0, 270))):
            Circle(SKETCH17_R)
        with Locations(Location((56.5, -77.05, 0), (0, 0, 270))):
            Circle(SKETCH17_R)
    extrude(amount=-CUT_EXTRUDE3_DEPTH, mode=Mode.SUBTRACT)


solid = part_1.part
